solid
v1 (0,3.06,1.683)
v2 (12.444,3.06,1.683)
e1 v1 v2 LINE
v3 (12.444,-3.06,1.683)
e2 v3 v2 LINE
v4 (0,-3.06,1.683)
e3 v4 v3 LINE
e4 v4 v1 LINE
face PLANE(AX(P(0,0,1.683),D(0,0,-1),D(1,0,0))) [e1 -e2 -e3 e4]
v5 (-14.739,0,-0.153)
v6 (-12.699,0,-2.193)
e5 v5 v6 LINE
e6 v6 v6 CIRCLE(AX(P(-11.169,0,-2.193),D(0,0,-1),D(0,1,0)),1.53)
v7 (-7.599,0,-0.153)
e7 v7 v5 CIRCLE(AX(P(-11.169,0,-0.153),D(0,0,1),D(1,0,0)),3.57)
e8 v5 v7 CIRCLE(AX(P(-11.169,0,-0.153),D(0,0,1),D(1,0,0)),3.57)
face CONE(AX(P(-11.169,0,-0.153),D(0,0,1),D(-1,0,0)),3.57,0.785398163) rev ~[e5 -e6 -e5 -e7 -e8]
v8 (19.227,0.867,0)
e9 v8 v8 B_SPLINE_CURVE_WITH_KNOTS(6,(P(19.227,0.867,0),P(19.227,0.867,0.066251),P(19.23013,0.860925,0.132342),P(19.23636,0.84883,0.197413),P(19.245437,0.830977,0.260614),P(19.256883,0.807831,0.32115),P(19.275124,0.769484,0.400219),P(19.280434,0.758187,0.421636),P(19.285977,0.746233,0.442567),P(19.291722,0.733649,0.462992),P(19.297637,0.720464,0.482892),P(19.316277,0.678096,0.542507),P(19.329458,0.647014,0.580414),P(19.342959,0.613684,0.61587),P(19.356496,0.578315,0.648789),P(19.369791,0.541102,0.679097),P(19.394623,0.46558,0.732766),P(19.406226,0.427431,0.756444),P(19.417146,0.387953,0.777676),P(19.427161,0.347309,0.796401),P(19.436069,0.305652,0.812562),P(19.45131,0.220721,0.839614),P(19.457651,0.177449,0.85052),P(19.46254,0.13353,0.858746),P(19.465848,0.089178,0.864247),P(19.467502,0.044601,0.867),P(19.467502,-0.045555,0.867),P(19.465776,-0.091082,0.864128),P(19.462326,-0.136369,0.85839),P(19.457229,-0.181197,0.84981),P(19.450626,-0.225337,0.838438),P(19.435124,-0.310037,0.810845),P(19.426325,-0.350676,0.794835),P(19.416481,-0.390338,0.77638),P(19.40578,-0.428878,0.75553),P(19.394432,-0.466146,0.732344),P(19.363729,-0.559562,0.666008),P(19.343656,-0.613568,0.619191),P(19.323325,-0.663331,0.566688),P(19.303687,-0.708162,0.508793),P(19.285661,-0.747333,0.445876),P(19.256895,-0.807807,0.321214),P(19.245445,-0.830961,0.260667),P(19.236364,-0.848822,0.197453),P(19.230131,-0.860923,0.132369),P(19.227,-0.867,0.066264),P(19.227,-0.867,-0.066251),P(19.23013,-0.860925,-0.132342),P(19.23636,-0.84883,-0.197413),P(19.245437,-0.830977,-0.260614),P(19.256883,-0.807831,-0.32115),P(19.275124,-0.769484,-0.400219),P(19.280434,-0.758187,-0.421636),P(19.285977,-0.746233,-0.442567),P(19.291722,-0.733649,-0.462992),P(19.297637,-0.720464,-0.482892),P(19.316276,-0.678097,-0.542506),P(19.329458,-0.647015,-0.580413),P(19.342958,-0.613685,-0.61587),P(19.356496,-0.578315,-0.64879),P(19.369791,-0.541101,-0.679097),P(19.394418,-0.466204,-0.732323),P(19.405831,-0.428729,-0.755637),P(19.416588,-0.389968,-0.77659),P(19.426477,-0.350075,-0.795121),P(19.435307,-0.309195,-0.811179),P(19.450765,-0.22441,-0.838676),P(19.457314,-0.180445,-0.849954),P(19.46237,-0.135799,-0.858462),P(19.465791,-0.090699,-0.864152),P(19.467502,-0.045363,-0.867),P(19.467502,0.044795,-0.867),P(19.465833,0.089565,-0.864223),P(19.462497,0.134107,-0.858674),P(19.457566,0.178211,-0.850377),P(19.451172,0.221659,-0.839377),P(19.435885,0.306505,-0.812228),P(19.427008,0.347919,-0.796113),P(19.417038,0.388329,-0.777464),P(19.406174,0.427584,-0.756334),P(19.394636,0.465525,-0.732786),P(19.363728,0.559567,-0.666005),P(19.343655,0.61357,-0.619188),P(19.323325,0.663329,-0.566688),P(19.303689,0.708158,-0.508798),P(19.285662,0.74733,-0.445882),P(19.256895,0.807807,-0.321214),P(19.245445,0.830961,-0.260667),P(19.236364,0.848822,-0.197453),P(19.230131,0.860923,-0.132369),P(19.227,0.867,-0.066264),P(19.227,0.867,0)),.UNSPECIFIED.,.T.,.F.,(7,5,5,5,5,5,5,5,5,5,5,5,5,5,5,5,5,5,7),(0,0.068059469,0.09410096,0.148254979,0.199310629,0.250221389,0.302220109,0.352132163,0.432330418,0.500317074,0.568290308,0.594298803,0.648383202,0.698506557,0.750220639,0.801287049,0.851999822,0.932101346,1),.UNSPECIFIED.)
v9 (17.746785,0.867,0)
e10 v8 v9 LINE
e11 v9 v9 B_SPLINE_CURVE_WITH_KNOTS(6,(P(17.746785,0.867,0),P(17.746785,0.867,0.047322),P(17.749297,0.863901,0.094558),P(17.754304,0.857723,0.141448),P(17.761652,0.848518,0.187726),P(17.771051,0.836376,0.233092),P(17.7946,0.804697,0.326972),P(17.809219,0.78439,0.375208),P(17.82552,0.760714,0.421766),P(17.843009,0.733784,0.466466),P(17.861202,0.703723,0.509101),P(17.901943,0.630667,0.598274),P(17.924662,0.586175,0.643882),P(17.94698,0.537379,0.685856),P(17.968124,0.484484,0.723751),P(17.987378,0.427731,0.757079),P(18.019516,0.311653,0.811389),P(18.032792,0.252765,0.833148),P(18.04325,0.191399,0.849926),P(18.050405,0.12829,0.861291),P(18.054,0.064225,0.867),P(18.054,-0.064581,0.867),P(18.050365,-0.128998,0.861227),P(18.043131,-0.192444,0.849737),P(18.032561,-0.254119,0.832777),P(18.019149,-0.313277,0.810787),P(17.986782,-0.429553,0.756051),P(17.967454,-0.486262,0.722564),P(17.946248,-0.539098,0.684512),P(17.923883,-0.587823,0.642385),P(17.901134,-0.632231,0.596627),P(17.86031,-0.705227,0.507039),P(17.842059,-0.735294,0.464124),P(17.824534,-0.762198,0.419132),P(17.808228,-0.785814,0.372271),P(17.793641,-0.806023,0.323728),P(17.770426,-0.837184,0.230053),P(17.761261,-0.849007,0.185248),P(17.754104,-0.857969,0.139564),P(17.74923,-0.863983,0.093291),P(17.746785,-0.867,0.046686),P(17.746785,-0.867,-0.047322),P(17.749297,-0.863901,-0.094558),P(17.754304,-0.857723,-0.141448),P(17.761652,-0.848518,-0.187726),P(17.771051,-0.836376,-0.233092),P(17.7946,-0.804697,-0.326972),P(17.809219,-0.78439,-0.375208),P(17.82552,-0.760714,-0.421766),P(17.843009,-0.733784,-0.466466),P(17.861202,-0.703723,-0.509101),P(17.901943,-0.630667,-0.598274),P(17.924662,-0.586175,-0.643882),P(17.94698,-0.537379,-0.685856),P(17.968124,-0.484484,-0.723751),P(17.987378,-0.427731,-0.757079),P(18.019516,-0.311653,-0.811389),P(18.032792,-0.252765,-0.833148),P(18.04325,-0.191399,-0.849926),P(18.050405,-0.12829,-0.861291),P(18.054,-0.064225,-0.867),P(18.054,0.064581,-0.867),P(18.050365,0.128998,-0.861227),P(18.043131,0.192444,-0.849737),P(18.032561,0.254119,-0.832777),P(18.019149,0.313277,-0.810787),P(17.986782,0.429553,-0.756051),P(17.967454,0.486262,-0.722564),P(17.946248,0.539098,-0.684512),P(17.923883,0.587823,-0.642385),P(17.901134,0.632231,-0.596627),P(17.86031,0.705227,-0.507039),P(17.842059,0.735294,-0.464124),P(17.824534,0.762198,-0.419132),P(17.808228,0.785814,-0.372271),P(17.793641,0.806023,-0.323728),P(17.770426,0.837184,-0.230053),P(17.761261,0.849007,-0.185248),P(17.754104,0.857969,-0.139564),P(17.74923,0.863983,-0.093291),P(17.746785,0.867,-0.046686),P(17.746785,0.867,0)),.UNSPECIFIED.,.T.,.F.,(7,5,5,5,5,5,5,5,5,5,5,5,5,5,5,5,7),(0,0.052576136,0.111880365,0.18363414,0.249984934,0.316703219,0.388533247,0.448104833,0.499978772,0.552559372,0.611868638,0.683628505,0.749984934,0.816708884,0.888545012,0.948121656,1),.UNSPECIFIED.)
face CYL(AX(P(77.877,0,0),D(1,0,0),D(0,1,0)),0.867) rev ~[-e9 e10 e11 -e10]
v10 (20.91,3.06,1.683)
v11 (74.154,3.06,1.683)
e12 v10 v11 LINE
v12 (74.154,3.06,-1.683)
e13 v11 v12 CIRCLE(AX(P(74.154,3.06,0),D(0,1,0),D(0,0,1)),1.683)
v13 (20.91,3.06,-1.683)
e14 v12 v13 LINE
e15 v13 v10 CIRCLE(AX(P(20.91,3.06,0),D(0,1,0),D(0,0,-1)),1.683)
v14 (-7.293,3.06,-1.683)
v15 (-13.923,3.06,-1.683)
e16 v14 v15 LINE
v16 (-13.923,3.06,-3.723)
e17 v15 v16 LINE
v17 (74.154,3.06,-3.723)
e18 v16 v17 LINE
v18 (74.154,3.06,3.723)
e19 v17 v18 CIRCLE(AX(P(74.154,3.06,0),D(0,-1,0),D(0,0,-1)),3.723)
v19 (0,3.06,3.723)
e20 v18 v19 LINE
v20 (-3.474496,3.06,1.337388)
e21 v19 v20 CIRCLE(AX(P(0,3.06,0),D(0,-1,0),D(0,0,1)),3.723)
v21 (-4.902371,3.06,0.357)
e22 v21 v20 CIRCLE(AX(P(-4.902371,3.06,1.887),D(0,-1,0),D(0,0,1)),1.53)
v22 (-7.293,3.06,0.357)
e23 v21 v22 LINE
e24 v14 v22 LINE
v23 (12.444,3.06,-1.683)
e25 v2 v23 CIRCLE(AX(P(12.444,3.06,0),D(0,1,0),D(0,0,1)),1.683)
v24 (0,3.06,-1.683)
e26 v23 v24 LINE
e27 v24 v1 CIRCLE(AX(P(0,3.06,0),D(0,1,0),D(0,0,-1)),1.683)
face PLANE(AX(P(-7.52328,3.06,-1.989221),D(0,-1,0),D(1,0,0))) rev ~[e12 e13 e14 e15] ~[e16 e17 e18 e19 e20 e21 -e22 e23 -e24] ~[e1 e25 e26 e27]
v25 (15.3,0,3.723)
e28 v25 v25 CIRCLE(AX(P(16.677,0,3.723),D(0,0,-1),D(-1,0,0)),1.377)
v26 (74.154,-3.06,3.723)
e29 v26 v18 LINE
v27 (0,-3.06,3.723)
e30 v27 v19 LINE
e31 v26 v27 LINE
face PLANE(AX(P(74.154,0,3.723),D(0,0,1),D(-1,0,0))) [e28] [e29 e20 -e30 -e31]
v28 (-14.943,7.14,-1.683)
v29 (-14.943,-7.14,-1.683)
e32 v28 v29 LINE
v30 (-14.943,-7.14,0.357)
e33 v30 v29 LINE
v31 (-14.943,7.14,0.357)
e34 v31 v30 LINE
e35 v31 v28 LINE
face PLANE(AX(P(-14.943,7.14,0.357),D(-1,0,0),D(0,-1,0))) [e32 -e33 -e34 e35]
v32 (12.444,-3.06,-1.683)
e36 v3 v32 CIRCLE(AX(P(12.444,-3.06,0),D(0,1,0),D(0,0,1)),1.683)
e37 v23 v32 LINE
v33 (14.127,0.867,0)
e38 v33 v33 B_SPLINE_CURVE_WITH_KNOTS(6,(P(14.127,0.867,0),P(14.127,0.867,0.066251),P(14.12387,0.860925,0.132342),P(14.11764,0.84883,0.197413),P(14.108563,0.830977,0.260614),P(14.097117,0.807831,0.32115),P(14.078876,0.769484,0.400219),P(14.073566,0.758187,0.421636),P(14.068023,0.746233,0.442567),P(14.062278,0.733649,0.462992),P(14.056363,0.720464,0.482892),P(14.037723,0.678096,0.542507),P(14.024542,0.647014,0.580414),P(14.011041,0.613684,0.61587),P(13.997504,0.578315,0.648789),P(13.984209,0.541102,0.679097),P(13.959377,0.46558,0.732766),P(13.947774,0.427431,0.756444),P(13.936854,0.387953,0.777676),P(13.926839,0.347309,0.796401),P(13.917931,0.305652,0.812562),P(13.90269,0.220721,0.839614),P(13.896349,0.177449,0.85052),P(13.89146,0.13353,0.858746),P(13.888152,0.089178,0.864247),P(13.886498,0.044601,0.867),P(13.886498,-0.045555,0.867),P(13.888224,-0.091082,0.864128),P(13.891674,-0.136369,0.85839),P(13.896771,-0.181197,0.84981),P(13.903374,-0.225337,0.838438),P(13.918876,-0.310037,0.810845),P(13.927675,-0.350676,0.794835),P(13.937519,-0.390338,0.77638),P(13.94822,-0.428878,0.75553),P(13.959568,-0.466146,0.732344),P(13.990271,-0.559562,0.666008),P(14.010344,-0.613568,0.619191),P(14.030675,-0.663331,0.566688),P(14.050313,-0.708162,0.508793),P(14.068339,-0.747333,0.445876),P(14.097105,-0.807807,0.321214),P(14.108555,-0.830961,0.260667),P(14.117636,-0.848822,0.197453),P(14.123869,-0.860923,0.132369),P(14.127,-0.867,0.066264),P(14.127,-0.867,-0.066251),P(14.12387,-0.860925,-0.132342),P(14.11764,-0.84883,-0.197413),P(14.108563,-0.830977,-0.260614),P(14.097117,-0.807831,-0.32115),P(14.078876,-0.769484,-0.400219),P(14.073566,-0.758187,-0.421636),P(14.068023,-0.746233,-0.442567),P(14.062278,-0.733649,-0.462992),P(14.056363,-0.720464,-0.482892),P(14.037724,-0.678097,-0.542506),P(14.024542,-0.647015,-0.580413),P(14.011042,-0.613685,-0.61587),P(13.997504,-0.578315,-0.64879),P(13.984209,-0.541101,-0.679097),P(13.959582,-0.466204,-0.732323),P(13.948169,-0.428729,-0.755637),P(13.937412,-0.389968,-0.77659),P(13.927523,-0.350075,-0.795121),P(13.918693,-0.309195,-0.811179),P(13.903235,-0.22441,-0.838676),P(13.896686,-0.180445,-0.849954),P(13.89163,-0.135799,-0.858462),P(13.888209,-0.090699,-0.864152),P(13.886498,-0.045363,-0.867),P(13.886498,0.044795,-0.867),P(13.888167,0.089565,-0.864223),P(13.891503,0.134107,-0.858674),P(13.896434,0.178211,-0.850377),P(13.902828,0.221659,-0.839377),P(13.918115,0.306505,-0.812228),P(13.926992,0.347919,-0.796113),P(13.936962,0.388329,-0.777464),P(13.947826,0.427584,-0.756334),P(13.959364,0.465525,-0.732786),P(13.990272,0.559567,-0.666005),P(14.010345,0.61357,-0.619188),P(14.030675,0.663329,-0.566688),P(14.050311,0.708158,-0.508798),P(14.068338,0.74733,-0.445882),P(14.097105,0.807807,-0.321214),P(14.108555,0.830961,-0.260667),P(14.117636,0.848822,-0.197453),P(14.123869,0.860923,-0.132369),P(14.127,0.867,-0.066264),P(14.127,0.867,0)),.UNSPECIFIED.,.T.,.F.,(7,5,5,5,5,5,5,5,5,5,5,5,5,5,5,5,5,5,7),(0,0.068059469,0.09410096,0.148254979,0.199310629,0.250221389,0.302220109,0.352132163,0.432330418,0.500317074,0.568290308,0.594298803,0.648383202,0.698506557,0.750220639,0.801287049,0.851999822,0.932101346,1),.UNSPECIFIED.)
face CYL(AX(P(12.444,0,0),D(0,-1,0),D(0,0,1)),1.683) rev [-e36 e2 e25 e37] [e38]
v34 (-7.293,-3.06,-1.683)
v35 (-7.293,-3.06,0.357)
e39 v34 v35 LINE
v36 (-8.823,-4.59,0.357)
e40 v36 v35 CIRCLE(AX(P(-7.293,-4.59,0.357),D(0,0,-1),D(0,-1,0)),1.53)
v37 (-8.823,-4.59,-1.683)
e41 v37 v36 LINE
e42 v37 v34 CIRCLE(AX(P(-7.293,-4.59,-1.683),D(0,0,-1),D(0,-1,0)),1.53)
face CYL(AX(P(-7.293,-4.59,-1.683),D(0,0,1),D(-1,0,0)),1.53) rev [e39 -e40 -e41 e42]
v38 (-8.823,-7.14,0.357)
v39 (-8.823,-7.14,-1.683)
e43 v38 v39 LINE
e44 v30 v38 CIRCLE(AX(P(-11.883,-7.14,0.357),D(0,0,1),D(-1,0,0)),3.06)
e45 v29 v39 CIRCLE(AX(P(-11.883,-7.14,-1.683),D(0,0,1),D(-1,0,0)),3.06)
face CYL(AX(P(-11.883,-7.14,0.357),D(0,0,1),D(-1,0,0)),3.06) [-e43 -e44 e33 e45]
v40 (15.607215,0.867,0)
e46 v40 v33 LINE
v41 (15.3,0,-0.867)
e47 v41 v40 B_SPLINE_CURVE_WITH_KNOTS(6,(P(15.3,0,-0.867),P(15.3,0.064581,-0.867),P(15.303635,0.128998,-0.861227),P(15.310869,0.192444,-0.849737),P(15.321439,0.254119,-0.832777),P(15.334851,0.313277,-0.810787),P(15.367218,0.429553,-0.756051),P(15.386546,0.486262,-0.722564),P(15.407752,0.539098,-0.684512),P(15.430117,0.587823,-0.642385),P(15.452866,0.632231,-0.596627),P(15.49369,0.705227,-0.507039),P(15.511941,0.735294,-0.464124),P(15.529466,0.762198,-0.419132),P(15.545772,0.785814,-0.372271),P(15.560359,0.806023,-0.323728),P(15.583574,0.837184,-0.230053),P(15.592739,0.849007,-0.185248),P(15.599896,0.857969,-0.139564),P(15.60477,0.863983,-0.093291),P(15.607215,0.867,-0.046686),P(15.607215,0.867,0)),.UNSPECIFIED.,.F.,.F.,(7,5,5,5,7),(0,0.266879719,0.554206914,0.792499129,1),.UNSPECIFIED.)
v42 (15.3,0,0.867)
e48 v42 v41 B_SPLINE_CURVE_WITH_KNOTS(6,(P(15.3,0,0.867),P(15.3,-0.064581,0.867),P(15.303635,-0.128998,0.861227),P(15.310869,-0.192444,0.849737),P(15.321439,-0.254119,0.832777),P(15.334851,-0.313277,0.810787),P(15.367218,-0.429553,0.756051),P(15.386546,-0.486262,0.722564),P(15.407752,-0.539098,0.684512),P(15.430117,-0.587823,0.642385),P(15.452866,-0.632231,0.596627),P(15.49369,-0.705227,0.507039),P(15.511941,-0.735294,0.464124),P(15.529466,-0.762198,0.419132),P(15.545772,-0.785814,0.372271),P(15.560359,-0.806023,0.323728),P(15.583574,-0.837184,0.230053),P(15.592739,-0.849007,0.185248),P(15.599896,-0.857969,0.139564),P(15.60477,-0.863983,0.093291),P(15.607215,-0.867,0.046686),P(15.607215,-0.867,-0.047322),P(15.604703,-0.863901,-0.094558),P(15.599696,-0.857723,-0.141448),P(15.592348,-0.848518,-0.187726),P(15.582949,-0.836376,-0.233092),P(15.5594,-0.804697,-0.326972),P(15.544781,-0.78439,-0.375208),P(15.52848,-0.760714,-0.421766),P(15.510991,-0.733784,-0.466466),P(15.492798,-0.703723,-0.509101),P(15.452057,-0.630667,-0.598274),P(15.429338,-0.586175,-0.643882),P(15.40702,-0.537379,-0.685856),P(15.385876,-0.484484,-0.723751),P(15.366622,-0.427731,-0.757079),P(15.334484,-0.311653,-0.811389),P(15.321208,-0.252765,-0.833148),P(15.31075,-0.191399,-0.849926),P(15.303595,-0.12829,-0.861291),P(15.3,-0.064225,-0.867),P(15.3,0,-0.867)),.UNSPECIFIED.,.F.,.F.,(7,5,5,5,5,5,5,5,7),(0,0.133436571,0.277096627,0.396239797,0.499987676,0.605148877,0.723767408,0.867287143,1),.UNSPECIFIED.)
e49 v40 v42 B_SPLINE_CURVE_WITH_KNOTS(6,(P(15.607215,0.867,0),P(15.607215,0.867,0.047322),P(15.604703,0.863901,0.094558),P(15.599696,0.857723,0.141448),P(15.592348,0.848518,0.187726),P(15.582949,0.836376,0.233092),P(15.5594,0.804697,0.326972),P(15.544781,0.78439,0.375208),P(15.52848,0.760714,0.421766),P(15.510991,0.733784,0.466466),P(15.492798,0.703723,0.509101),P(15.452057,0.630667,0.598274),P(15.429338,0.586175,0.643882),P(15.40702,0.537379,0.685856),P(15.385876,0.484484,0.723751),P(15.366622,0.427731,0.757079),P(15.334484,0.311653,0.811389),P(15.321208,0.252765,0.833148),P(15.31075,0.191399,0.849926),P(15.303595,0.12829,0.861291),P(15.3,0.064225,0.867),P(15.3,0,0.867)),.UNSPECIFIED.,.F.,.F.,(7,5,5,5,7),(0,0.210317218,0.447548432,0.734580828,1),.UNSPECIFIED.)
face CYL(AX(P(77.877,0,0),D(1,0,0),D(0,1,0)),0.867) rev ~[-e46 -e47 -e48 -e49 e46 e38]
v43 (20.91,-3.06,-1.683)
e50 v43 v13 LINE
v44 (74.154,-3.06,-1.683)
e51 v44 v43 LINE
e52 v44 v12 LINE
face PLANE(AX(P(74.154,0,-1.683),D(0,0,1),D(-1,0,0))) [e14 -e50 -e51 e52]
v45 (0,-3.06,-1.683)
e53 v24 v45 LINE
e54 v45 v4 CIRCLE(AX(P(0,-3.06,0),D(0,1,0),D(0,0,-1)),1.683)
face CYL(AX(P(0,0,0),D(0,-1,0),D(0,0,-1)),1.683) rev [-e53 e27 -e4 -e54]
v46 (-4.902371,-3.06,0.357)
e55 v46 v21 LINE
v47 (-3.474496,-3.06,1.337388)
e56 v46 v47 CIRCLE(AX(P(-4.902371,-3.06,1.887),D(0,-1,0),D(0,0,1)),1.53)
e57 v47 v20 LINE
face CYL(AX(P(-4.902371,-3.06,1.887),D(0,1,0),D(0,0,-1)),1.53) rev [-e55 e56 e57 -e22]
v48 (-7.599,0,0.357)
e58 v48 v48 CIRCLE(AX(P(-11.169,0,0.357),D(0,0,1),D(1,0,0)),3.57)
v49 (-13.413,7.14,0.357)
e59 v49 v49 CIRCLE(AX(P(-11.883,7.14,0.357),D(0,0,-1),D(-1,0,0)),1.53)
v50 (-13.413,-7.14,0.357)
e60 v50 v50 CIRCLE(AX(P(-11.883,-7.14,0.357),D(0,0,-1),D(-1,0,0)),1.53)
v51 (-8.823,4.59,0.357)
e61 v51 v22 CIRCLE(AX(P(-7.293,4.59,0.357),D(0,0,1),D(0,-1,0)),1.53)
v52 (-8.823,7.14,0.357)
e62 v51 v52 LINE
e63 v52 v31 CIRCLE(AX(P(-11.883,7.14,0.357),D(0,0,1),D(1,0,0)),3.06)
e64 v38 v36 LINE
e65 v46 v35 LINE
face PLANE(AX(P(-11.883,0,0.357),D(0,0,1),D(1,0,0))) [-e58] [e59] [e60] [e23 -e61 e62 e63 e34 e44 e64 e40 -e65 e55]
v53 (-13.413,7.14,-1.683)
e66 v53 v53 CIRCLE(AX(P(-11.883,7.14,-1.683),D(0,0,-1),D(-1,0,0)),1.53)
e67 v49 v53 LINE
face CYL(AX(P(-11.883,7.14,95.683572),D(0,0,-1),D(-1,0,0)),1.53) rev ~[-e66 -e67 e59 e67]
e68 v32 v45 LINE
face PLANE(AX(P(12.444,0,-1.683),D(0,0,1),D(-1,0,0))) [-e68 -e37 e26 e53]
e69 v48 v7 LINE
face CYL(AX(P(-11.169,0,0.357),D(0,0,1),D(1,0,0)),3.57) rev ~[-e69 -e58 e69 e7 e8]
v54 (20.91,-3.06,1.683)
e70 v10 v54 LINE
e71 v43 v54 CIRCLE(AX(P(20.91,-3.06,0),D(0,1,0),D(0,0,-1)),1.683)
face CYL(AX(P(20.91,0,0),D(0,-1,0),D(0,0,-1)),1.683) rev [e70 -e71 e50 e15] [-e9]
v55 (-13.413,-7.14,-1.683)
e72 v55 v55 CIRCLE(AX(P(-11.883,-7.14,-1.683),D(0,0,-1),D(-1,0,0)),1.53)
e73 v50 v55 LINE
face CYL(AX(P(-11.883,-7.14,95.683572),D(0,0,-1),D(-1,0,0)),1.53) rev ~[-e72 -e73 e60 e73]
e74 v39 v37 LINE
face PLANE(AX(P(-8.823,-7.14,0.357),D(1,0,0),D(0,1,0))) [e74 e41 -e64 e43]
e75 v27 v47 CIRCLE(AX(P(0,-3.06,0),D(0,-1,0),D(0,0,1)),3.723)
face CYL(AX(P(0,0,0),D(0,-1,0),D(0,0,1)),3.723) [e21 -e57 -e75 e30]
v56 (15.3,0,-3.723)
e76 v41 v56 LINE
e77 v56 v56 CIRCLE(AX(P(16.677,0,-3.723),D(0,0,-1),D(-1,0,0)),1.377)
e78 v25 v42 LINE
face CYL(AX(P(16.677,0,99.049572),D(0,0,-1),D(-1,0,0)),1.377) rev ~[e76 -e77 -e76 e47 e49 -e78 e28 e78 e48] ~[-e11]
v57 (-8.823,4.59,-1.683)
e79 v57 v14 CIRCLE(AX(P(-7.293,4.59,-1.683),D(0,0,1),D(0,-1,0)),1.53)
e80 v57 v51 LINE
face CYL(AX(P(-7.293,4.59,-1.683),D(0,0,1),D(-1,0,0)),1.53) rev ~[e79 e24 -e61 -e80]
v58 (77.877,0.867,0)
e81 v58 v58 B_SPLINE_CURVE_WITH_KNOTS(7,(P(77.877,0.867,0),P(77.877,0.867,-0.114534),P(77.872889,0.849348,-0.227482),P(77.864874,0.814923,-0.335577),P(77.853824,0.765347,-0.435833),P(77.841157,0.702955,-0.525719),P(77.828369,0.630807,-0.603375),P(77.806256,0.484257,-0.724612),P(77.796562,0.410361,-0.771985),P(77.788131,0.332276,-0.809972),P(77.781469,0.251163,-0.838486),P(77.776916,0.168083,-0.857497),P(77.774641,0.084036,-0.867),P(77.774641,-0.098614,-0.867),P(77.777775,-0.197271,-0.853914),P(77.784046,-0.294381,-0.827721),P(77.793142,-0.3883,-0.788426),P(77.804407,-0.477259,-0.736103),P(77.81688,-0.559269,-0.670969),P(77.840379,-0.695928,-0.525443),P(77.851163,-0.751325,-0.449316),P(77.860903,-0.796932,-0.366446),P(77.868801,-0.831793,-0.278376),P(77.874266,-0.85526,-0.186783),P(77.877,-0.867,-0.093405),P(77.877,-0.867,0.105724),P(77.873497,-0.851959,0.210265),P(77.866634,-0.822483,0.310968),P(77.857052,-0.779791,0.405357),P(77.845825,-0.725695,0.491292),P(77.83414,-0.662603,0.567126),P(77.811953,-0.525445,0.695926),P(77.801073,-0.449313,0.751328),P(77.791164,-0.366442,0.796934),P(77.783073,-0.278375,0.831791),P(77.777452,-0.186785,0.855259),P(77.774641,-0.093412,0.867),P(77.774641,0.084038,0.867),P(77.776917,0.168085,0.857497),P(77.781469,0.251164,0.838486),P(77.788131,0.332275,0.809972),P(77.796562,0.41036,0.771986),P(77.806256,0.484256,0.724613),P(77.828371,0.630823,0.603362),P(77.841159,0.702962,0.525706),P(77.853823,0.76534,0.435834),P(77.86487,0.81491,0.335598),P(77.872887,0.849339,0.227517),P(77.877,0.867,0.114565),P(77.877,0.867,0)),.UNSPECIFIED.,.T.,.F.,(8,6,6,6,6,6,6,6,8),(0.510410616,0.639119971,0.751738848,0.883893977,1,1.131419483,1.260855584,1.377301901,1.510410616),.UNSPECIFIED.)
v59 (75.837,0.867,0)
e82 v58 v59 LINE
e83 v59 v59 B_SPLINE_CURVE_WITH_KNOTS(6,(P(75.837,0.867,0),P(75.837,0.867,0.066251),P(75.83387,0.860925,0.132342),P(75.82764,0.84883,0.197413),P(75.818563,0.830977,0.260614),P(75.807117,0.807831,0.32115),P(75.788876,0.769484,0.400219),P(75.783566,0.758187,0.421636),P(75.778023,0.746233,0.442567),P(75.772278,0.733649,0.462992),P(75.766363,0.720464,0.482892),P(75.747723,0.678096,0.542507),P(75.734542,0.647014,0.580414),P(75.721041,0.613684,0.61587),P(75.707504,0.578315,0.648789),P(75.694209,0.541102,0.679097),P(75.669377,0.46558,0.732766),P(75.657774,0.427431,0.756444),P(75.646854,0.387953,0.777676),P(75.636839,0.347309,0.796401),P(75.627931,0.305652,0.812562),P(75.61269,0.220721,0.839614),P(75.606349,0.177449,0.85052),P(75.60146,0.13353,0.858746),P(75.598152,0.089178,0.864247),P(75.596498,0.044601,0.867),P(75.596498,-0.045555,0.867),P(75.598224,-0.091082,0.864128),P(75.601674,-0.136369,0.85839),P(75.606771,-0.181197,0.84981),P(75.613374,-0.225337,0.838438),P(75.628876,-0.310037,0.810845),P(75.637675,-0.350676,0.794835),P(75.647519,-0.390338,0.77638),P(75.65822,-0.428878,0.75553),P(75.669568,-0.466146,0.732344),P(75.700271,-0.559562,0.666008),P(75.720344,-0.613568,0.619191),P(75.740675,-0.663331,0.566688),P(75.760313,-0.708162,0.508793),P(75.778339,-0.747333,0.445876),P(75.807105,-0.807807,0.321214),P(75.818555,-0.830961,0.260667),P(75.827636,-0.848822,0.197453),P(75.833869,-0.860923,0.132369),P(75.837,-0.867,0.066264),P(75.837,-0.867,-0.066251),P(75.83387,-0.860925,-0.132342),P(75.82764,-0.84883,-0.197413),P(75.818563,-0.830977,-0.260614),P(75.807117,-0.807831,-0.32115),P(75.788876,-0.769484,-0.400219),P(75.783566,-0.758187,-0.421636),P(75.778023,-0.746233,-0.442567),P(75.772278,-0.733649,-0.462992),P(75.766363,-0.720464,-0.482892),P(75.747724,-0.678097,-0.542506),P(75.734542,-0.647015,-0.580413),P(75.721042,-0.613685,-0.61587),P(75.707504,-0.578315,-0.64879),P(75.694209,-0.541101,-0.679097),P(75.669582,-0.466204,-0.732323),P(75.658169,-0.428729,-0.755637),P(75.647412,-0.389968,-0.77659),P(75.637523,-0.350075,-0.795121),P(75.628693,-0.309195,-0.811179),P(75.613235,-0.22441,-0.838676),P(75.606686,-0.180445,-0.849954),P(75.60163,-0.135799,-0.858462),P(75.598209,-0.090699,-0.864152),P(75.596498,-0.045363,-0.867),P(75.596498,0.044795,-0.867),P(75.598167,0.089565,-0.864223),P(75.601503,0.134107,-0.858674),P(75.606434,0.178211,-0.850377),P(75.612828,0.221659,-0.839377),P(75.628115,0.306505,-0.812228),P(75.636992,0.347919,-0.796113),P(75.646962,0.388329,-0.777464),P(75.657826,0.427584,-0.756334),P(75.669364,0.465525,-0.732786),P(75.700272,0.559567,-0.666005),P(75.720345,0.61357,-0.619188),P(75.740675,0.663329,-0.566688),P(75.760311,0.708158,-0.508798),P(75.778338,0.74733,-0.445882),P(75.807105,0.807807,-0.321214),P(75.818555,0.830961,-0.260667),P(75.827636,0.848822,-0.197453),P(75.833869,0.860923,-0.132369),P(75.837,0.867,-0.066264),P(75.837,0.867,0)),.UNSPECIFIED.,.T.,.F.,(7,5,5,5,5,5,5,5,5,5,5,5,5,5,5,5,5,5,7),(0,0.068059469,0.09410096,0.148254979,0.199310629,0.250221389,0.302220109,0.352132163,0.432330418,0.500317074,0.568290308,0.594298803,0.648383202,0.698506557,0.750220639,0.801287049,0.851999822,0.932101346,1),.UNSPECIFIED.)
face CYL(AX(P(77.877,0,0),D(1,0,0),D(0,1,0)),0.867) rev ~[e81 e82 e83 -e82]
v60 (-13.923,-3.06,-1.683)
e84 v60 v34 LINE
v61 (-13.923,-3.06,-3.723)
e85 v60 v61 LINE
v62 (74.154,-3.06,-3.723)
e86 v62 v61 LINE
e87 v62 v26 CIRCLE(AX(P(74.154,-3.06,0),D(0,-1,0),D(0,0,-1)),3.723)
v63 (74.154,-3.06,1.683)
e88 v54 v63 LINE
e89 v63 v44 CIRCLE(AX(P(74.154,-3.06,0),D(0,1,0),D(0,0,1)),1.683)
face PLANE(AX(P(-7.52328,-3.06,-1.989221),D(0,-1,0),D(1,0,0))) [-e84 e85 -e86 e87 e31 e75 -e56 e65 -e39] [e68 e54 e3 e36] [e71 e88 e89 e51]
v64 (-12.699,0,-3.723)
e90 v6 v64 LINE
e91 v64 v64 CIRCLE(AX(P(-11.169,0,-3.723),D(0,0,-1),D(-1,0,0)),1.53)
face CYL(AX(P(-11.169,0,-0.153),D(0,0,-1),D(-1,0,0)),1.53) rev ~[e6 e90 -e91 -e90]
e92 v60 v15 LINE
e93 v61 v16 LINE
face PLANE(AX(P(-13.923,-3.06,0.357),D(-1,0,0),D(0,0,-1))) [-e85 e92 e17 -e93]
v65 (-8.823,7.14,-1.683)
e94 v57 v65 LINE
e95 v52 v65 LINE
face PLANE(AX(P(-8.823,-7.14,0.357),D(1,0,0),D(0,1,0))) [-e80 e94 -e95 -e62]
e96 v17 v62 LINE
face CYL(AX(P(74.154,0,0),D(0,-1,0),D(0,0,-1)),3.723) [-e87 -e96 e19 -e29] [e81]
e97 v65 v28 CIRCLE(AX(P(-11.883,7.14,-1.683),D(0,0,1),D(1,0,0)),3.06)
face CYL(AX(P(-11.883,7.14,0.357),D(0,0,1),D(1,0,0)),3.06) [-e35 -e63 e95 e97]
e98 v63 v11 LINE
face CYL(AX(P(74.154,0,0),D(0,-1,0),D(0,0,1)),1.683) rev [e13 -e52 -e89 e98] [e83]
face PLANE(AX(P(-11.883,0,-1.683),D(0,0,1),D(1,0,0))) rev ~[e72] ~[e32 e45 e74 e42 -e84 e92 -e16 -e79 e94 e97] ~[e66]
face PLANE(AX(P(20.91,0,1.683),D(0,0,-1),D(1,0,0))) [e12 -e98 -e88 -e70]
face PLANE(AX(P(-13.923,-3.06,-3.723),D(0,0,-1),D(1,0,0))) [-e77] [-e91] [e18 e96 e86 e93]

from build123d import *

# Parameters (mm, degrees)
F1_DEPTH       = 3
F3_DEPTH       = 6
F5_DEPTH       = 2
F6_R           = 3.5
F7_DEPTH       = 0.5
F9_D           = 3
F9_CSINK_D     = 7
F9_CSINK_ANGLE = 90
F10_D          = 3
F11_R          = 1.5
F14_R          = 0.85
F15_DEPTH      = 63.7357865376
F17_D          = 2.7
F18_SCALE      = 1.02


with BuildPart() as f1:
    # F0 (on Front) → F1 (new body, symmetric)
    with BuildSketch(Plane.XZ):
        with BuildLine():
            ThreePointArc((0, 3.65), (-3.65, 0), (0, -3.65))
            Line((0, -3.65), (72.7, -3.65))
            ThreePointArc((72.7, -3.65), (76.35, 0), (72.7, 3.65))
            Line((72.7, 3.65), (0, 3.65))
        make_face()
        with BuildLine():
            Line((12.2, -1.65), (0, -1.65))
            ThreePointArc((0, -1.65), (-1.65, 0), (0, 1.65))
            Line((0, 1.65), (12.2, 1.65))
            ThreePointArc((12.2, 1.65), (13.85, 0), (12.2, -1.65))
        make_face(mode=Mode.SUBTRACT)
        with BuildLine():
            Line((20.5, 1.65), (72.7, 1.65))
            ThreePointArc((72.7, 1.65), (74.35, 0), (72.7, -1.65))
            Line((72.7, -1.65), (20.5, -1.65))
            ThreePointArc((20.5, -1.65), (18.85, 0), (20.5, 1.65))
        make_face(mode=Mode.SUBTRACT)
    extrude(amount=F1_DEPTH, both=True)

    # F2 (on face) → F3 (join, through all)
    with BuildSketch(Plane.XZ.offset(3)):
        with BuildLine():
            Line((-13.65, -3.65), (0, -3.65))
            ThreePointArc((0, -3.65), (-2.7018512172, -2.4540782384), (-3.6331804249, 0.35))
            Line((-3.6331804249, 0.35), (-13.65, 0.35))
            Line((-13.65, 0.35), (-13.65, -3.65))
        make_face()
    extrude(amount=-F3_DEPTH)

    # F4 (on face) → F5 (join)
    with BuildSketch(Plane.XY.offset(0.35)):
        with BuildLine():
            ThreePointArc((-14.65, -7), (-11.65, -10), (-8.65, -7))
            Line((-8.65, -7), (-8.65, 7))
            ThreePointArc((-8.65, 7), (-11.65, 10), (-14.65, 7))
            Line((-14.65, 7), (-14.65, -7))
        make_face()
    extrude(amount=-F5_DEPTH)

    # F6 (on face) → F7 (cut)
    with BuildSketch(Plane.XY.offset(0.35)):
        with Locations((-10.95, 0)):
            Circle(F6_R)
    extrude(amount=-F7_DEPTH, mode=Mode.SUBTRACT)

    # F9 (through all)
    with Locations(Plane.XY.offset(-0.15)):
        with Locations((-10.95, 0)):
            CounterSinkHole(F9_D / 2, F9_CSINK_D / 2, counter_sink_angle=F9_CSINK_ANGLE)

    # F10 (through all)
    with Locations(Plane.XY.offset(0.35)):
        with Locations((-11.65, 7), (-11.65, -7)):
            Hole(F10_D / 2)

    # F11
    f11_edges = [f1.edges().sort_by_distance(p)[0] for p in [
        (-8.65, -3, -0.65),
        (-8.65, 3, -0.65),
        (-3.63318, 0, 0.35),
    ]]
    fillet(f11_edges, radius=F11_R)

    # F14 (on plane+point) → F15 (cut, up to face)
    with BuildSketch(Plane.YZ.offset(76.35)):
        Circle(F14_R)
    extrude(amount=-F15_DEPTH, mode=Mode.SUBTRACT)

    # F17 (through all)
    with Locations(Plane.XY.offset(3.65)):
        with Locations((16.35, 0)):
            Hole(F17_D / 2)


with BuildPart() as f1_1:
    # F18: moved
    add(f1.part.scale(F18_SCALE))


solid = f1_1.part
